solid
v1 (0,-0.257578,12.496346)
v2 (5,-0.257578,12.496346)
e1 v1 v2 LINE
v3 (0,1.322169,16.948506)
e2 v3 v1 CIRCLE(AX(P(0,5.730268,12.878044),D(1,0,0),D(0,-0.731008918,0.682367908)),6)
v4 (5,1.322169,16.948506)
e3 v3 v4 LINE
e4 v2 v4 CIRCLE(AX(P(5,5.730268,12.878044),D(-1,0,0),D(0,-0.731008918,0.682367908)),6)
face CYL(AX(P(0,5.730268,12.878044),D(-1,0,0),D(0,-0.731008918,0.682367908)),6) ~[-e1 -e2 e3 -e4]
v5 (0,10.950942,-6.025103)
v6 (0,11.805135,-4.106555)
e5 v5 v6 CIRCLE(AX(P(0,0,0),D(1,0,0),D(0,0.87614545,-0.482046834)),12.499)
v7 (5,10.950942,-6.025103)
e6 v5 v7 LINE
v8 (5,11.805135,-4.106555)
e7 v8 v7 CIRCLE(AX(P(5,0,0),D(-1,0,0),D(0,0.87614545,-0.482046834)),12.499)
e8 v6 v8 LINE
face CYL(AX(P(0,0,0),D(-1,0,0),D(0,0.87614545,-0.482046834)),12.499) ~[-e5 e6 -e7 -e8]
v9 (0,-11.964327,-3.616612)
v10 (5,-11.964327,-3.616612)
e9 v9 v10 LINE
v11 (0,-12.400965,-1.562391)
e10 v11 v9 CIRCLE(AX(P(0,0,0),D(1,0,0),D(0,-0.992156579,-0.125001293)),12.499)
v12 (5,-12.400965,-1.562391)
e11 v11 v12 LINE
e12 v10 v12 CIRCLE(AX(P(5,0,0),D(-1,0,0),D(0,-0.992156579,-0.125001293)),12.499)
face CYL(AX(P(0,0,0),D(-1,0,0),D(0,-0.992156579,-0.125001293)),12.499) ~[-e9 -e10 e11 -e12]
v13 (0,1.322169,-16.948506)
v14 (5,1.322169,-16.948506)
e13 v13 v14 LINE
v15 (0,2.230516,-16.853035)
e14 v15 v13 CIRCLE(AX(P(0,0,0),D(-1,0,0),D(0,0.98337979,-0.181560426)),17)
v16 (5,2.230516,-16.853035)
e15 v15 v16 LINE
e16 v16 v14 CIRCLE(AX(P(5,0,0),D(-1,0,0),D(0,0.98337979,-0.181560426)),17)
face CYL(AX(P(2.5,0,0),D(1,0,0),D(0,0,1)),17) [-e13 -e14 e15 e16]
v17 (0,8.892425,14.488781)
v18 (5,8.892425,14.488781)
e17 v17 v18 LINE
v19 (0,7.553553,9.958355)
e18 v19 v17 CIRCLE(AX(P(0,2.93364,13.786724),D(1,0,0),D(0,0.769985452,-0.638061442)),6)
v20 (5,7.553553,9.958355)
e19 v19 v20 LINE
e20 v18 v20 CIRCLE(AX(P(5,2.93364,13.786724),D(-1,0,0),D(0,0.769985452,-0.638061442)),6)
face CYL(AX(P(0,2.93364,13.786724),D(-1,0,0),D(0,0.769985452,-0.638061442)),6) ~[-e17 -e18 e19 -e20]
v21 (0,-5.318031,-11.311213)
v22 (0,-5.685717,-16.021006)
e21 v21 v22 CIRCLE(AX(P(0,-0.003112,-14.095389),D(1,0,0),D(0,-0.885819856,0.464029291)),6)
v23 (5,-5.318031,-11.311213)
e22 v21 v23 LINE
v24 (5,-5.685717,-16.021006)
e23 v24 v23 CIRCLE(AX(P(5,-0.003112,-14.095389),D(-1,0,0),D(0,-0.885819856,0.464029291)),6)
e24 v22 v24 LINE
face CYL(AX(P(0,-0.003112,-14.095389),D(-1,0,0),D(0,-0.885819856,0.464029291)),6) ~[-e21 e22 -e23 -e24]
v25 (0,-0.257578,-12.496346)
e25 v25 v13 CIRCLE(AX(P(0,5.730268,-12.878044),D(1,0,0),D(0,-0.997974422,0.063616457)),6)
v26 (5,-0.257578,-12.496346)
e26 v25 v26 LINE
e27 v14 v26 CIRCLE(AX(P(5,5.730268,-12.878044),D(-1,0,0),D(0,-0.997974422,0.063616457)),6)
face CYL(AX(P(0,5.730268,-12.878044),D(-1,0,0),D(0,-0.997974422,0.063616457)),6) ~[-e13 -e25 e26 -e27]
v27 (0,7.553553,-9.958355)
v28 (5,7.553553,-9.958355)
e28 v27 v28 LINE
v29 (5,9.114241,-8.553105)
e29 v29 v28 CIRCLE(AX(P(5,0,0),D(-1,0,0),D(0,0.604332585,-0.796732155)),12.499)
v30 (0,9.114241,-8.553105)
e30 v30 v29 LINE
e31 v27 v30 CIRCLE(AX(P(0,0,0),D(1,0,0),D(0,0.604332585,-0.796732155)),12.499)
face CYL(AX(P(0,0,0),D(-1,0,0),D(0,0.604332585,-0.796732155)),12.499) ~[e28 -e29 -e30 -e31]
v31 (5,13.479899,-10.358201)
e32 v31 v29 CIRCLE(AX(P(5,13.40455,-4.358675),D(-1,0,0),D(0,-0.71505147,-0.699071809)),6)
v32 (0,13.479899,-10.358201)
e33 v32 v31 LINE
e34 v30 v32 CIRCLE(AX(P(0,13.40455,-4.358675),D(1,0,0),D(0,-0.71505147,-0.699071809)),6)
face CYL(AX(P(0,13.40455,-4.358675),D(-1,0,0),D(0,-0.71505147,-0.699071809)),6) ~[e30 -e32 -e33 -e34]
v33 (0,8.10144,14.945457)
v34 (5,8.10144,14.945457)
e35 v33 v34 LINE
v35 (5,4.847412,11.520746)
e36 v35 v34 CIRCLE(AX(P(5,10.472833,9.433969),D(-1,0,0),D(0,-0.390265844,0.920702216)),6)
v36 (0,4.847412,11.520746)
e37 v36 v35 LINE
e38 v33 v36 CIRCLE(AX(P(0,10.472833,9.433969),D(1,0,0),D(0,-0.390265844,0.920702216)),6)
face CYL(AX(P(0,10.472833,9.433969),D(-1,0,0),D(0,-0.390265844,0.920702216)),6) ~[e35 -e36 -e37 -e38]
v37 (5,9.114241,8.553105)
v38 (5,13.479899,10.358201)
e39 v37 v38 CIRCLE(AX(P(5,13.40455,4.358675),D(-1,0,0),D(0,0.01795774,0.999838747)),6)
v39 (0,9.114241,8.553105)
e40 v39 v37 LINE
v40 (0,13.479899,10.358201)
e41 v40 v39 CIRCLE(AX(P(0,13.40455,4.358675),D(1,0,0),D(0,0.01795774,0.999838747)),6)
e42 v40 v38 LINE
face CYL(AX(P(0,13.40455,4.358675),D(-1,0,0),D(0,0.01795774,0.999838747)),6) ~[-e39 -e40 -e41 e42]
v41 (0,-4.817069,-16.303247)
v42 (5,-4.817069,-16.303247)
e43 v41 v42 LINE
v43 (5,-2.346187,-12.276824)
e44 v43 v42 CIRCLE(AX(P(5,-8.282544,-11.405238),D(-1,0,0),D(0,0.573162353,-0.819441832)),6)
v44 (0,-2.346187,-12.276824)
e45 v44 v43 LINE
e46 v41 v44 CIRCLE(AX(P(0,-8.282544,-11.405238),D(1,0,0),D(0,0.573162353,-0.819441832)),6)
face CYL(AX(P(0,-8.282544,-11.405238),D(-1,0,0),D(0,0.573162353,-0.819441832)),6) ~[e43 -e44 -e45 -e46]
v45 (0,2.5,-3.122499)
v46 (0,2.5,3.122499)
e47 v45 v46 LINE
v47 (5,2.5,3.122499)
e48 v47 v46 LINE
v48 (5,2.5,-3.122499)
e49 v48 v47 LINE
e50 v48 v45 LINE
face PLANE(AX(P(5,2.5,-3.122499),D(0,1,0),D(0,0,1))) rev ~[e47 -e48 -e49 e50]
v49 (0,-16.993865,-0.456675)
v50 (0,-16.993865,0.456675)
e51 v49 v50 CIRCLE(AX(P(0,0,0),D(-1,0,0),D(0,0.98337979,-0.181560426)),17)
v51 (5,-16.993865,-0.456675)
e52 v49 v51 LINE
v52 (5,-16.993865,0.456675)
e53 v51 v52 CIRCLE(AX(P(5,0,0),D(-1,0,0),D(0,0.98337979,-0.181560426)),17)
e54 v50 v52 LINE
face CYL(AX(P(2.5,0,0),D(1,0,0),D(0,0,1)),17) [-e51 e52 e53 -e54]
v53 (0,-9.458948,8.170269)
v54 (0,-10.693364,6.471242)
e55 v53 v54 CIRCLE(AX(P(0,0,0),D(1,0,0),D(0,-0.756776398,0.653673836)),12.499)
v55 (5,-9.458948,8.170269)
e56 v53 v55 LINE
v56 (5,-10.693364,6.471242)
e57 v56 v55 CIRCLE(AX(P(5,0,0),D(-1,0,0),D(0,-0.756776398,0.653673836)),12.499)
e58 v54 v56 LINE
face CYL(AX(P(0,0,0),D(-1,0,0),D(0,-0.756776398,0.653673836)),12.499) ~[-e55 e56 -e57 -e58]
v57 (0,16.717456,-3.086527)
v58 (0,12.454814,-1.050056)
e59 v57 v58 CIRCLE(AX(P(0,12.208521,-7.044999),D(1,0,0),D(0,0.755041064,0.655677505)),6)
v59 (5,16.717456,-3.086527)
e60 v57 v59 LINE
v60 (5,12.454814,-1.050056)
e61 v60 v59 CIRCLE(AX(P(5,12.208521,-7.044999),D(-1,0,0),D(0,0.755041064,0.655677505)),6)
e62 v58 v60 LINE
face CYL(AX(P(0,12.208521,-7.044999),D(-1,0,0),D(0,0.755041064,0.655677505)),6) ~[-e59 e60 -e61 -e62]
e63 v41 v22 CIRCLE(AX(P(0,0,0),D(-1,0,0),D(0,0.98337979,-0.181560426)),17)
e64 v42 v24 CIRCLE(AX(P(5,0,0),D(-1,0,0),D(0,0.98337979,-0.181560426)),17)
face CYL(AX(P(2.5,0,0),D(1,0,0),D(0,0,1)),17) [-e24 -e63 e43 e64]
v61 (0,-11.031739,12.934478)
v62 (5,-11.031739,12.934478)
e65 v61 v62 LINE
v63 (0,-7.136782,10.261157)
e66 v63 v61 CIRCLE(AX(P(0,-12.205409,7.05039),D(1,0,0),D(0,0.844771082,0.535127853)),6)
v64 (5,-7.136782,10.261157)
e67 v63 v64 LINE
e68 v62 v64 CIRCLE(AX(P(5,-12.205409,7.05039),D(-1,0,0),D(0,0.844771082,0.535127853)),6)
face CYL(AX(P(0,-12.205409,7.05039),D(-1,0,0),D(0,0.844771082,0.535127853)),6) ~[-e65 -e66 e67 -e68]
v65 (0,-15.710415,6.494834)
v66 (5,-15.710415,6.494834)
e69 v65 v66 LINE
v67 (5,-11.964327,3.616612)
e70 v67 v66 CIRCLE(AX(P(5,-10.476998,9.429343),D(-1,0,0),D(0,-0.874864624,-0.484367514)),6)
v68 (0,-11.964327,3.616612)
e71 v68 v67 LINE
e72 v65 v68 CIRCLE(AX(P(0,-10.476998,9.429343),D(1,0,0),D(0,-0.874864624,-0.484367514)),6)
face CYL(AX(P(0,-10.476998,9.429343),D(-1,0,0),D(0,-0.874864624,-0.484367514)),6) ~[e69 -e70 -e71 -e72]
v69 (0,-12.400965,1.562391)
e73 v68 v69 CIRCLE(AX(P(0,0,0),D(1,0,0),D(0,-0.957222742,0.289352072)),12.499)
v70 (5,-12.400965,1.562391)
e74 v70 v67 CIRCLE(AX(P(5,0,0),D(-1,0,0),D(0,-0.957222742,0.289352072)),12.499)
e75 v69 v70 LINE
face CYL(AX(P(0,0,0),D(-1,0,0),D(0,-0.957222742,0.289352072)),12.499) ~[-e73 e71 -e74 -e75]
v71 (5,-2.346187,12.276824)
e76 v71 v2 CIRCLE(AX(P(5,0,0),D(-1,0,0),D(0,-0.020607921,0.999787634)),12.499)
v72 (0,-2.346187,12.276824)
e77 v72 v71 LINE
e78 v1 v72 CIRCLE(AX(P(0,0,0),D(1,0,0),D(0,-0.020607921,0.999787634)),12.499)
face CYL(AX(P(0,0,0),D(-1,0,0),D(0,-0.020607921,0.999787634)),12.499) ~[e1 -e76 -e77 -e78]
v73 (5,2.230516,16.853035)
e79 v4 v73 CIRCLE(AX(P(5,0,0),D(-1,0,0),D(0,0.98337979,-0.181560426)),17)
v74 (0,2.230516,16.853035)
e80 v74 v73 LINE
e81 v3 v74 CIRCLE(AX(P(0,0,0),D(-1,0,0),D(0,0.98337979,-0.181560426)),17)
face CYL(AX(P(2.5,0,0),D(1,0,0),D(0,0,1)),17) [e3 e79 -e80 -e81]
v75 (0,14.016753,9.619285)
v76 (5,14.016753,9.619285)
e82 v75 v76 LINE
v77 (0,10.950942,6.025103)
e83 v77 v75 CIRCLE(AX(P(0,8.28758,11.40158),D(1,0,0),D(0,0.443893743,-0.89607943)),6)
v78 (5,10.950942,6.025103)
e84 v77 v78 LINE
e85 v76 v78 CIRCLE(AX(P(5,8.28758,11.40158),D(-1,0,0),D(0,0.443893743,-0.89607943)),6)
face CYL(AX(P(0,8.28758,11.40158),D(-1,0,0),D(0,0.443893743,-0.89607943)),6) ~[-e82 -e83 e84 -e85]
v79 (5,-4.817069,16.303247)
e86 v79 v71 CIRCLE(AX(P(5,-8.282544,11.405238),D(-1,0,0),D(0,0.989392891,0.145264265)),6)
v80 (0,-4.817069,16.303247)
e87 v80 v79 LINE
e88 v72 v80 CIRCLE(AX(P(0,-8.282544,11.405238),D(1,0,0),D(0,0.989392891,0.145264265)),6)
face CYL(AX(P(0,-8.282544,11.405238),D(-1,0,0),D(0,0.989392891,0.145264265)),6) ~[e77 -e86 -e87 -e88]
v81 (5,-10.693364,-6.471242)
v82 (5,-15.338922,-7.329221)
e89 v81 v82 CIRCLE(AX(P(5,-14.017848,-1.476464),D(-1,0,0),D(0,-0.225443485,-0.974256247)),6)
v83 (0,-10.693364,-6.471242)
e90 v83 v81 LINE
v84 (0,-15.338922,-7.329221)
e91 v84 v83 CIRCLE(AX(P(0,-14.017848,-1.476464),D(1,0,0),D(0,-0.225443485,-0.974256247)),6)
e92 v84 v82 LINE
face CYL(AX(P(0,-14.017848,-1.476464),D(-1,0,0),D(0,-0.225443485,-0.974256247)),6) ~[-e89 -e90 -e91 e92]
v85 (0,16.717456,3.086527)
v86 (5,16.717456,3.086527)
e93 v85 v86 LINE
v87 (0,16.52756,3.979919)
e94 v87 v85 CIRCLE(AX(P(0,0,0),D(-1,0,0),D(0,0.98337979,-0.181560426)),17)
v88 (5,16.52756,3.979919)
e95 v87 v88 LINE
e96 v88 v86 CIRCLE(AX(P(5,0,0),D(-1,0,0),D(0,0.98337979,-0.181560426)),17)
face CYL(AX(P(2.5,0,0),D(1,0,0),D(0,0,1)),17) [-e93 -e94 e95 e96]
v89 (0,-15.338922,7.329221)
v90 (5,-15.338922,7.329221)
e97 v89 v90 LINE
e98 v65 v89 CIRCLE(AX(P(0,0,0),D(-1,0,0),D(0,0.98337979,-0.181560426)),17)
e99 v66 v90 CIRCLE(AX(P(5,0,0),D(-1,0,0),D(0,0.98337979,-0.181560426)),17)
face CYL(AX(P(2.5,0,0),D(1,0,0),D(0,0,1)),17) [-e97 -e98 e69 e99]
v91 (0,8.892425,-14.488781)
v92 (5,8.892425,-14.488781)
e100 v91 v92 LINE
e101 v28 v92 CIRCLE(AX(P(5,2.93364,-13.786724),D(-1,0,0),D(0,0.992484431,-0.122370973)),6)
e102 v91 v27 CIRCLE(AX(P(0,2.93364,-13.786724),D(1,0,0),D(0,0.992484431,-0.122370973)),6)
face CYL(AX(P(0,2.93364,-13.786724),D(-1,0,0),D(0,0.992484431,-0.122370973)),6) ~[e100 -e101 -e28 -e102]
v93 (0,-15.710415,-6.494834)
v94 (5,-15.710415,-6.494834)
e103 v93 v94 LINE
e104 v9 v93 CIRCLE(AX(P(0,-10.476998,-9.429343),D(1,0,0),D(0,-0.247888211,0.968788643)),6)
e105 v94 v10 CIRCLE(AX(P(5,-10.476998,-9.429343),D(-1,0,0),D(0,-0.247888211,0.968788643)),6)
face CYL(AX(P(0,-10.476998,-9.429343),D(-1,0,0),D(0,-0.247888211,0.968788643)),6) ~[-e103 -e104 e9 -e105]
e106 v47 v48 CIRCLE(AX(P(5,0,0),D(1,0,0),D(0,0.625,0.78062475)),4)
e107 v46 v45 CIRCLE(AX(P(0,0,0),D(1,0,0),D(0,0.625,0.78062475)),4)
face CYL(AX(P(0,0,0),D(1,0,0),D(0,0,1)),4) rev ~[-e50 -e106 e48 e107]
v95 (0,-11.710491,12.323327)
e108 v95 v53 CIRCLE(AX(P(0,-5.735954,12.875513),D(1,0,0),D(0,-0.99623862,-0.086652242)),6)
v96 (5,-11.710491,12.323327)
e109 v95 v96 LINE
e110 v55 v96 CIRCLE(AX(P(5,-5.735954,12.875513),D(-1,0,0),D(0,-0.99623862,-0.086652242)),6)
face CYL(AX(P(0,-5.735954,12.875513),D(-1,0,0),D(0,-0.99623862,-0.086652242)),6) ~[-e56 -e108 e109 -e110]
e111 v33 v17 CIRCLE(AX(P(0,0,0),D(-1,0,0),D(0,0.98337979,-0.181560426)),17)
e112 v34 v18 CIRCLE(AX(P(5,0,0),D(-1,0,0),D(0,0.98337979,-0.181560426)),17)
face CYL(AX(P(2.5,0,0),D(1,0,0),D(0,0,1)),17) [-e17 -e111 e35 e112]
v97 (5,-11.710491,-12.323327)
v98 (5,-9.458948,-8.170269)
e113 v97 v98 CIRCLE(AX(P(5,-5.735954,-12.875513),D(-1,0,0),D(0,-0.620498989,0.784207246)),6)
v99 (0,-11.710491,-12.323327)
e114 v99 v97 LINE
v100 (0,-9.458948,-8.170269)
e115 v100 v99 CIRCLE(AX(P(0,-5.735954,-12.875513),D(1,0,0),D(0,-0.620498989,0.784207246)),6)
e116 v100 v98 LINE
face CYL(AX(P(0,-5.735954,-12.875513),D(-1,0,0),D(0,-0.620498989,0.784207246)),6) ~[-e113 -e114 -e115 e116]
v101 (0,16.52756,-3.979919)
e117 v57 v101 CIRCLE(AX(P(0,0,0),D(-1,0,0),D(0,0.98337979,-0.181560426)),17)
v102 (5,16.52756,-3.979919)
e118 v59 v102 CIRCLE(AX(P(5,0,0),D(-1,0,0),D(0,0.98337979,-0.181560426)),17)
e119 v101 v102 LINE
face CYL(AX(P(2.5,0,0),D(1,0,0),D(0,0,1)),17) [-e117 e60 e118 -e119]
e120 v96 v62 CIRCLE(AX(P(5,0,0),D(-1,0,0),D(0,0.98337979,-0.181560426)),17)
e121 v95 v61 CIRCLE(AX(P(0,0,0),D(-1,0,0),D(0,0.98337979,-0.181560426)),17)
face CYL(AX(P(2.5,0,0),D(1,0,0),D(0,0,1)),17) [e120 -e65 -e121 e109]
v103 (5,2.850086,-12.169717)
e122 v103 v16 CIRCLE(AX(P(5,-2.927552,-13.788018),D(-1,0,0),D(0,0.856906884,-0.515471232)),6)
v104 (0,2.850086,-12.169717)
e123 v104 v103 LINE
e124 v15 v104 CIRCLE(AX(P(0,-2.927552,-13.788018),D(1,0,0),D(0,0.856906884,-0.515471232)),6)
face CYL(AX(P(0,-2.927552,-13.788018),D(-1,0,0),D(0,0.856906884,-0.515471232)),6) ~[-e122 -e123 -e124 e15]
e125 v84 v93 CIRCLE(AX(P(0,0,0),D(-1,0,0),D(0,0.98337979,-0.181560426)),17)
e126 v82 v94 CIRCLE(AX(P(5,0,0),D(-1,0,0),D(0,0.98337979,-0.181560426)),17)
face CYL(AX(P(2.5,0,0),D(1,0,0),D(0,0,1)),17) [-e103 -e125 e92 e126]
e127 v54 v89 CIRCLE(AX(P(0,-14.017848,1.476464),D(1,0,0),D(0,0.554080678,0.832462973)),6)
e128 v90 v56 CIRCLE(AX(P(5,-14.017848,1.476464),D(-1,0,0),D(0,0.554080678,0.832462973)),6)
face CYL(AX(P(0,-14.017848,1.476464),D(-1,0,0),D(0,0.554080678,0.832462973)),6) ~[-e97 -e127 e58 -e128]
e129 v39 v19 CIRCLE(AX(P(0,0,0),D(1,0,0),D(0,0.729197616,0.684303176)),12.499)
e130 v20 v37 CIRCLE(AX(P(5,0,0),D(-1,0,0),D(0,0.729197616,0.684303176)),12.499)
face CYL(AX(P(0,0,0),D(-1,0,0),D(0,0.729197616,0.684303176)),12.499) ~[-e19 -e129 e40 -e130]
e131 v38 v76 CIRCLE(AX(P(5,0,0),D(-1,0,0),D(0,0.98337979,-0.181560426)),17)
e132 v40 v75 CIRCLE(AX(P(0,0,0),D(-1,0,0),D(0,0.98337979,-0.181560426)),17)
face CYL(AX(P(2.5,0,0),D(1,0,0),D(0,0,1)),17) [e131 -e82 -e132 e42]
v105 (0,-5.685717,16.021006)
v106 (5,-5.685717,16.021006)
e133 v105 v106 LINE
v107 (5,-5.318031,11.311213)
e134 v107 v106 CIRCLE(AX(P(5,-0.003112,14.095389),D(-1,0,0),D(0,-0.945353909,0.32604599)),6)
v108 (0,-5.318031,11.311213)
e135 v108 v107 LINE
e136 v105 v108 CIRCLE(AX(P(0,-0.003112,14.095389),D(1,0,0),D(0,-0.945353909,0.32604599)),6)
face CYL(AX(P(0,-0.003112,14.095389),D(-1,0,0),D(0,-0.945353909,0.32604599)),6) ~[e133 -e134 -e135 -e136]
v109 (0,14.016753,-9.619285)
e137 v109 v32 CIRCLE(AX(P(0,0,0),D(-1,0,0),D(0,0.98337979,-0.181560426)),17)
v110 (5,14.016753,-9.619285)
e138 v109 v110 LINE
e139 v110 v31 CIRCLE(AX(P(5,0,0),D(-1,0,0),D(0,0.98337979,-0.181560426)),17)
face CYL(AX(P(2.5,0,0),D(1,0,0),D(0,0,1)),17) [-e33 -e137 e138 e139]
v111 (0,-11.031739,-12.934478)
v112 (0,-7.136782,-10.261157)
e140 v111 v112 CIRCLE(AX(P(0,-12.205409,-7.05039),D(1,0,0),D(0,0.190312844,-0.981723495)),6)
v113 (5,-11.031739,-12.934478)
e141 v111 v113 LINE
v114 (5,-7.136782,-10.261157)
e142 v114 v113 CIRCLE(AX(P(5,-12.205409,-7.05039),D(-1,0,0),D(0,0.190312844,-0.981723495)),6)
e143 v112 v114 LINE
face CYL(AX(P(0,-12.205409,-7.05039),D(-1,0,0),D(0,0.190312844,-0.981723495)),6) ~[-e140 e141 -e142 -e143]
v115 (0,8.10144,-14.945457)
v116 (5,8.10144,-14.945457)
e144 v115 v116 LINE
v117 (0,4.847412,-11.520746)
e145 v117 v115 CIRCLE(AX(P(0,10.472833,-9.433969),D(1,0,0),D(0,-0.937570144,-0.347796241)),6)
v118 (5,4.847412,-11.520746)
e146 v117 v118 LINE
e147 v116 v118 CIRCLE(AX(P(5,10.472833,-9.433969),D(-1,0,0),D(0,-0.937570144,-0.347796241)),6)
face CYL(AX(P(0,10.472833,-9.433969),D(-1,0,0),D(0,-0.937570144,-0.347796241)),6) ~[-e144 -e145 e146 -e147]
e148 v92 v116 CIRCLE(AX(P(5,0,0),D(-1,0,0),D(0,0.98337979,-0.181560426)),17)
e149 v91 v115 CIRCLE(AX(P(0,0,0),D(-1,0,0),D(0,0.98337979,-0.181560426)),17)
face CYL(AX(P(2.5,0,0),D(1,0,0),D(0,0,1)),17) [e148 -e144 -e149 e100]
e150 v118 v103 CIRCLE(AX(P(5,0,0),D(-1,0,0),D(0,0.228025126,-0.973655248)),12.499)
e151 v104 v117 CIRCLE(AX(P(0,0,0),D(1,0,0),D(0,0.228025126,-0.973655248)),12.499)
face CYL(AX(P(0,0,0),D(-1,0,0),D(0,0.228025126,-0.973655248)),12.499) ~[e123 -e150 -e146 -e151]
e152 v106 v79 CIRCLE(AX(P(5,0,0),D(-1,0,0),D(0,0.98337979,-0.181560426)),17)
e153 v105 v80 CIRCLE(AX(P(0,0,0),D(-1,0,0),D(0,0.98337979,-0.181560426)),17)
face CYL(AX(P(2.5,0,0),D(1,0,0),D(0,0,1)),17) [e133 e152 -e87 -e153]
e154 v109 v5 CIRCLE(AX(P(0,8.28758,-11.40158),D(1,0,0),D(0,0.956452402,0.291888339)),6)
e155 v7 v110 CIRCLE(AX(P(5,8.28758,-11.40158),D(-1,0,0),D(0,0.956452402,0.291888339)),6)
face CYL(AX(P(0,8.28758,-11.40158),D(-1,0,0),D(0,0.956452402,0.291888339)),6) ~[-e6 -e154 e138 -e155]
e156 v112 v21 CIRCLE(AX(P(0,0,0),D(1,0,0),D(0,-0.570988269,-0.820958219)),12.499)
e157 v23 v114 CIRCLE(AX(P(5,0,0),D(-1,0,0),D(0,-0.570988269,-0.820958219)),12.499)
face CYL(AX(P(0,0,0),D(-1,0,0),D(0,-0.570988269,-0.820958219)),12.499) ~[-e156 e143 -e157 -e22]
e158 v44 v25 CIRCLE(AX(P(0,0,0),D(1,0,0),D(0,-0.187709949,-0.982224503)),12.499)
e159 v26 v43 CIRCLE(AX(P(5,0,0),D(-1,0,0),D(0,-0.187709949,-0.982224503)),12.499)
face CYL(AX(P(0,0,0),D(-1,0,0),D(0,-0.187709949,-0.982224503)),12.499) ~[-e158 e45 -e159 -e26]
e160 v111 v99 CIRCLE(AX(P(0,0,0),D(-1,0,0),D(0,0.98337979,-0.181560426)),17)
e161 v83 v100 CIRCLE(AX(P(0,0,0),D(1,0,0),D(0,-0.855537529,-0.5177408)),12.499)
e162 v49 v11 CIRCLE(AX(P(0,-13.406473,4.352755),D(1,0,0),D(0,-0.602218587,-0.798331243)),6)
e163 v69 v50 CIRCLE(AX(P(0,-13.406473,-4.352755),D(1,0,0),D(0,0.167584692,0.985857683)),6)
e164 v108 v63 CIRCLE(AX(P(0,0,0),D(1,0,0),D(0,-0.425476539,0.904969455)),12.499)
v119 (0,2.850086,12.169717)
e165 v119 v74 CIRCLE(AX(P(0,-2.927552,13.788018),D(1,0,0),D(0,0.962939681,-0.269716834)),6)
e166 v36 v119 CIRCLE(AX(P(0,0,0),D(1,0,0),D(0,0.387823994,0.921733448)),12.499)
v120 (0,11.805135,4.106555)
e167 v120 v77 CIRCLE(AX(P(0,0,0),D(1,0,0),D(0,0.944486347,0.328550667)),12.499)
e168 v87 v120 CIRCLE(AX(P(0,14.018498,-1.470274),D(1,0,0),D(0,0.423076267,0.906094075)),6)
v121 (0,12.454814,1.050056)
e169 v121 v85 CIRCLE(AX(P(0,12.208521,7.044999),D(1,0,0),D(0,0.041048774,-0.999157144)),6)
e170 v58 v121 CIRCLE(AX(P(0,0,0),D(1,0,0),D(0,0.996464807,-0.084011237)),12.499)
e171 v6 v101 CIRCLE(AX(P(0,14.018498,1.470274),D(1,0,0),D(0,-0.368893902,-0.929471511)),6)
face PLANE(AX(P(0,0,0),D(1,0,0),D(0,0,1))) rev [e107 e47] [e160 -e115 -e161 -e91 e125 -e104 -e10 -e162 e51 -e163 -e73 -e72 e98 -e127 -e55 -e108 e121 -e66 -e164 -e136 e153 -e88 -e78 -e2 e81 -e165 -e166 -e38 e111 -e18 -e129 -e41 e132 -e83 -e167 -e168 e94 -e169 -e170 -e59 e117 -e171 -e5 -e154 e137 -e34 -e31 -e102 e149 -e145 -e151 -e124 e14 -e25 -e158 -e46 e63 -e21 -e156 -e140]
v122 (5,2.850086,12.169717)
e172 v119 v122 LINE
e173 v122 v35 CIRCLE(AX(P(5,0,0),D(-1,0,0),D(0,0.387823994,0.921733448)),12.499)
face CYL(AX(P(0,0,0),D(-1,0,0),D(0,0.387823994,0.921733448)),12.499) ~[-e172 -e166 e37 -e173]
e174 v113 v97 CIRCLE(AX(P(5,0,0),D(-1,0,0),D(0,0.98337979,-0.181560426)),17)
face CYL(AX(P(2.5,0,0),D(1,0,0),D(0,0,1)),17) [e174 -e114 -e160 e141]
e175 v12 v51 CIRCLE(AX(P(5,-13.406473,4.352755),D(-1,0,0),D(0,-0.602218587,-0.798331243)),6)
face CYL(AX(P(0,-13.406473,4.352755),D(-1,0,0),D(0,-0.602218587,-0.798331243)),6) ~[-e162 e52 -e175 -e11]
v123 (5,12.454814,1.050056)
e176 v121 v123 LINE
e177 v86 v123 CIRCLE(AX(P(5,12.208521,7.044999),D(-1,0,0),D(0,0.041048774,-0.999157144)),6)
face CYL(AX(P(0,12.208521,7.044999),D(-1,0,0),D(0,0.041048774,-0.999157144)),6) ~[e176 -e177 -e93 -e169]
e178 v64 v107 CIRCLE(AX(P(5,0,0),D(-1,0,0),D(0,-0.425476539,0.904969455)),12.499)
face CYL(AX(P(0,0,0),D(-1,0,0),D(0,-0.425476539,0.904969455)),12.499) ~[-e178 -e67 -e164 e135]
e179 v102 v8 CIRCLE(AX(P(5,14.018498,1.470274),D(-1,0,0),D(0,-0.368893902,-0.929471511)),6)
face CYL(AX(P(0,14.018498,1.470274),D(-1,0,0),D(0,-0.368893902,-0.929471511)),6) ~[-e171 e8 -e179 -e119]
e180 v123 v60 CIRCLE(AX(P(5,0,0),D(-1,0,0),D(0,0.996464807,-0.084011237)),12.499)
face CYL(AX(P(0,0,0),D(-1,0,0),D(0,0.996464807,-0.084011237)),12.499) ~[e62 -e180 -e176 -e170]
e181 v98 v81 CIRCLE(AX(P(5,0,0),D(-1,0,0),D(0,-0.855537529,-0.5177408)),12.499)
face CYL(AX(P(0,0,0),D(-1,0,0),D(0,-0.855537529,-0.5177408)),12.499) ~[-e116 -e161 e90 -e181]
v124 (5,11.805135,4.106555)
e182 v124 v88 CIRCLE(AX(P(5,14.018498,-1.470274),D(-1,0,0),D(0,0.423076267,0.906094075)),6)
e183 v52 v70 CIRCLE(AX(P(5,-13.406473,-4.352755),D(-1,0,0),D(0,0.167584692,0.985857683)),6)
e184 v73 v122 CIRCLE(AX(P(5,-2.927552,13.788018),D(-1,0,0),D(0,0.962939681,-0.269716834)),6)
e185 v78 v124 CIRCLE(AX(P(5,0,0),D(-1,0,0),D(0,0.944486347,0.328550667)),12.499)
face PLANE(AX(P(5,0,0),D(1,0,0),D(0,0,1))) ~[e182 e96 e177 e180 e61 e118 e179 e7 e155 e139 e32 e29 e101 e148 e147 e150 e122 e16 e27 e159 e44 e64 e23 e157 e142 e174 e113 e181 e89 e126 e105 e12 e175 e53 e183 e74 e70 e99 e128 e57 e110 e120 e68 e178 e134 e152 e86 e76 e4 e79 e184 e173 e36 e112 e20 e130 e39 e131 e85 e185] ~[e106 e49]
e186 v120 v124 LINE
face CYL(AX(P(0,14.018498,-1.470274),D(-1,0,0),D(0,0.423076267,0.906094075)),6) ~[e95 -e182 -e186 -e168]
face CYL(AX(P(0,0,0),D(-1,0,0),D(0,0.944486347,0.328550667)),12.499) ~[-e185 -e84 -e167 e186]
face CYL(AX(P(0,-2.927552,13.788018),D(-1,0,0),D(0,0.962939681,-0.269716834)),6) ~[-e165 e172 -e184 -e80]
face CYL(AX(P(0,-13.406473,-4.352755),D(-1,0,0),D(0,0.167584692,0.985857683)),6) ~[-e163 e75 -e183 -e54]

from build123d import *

# Parameters (mm, degrees)
BASPROSKE_W         = 5
BASPROSKE_H         = 17
TOOTHCUT_DEPTH      = 25.556058316
TEETHCUTS_COUNT     = 15
TEETHCUTS_ANGLE     = 336
BORSKE_R            = 4
BORE_DEPTH          = 50.0000508
BOSS_EXTRUDE1_DEPTH = 5


with BuildPart() as part:
    # BasProSke → Base-Revolve (revolve)
    with BuildSketch(Plane(origin=(0, 0, 0), x_dir=(1, 0, 0), z_dir=(0, 1, 0)), mode=Mode.PRIVATE) as base_revolve_sk:
        with Locations((2.5, 8.5)):
            Rectangle(BASPROSKE_W, BASPROSKE_H)
    revolve(base_revolve_sk.sketch.rotate(Axis((-10, 0, 0), (1, 0, 0)), 180), axis=Axis((-10, 0, 0), (1, 0, 0)))

    # TooCutSke → ToothCut (cut, through all)
    with BuildSketch(Plane(origin=(0, 0, 0), x_dir=(0, 0, -1), z_dir=(1, 0, 0))):
        with BuildLine():
            ThreePointArc((1.050056448, 12.454813626), (0, 12.499), (-1.050056448, 12.454813626))
            ThreePointArc((-1.050056448, 12.454813626), (-1.638118106, 14.809604533), (-3.110934279, 16.73876737))
            ThreePointArc((-3.110934279, 16.73876737), (0, 17.0254), (3.110934279, 16.73876737))
            ThreePointArc((3.110934279, 16.73876737), (1.638118106, 14.809604533), (1.050056448, 12.454813626))
        make_face()
    toothcut = extrude(amount=TOOTHCUT_DEPTH, mode=Mode.SUBTRACT)

    # TeethCuts: ToothCut ×15 about axis
    teethcuts_axis = Axis((-10, 0, 0), (1, 0, 0))
    for i in range(1, TEETHCUTS_COUNT):
        add(toothcut.rotate(teethcuts_axis, i * TEETHCUTS_ANGLE / (TEETHCUTS_COUNT - 1)), mode=Mode.SUBTRACT)

    # BorSke → Bore (cut, symmetric)
    with BuildSketch(Plane(origin=(0, 0, 0), x_dir=(0, 0, -1), z_dir=(1, 0, 0))):
        with Locations(Location((0, 0, 0), (0, 0, 180))):
            Circle(BORSKE_R)
    extrude(amount=BORE_DEPTH, both=True, mode=Mode.SUBTRACT)

    # Sketch1 → Boss-Extrude1 (add)
    with BuildSketch(Plane(origin=(5, 0, 0), x_dir=(0, 0, -1), z_dir=(1, 0, 0))):
        with BuildLine():
            Line((3.122498999, 2.5), (-3.122498999, 2.5))
            ThreePointArc((-3.122498999, 2.5), (0, 4), (3.122498999, 2.5))
        make_face()
    extrude(amount=-BOSS_EXTRUDE1_DEPTH)


solid = part.part
